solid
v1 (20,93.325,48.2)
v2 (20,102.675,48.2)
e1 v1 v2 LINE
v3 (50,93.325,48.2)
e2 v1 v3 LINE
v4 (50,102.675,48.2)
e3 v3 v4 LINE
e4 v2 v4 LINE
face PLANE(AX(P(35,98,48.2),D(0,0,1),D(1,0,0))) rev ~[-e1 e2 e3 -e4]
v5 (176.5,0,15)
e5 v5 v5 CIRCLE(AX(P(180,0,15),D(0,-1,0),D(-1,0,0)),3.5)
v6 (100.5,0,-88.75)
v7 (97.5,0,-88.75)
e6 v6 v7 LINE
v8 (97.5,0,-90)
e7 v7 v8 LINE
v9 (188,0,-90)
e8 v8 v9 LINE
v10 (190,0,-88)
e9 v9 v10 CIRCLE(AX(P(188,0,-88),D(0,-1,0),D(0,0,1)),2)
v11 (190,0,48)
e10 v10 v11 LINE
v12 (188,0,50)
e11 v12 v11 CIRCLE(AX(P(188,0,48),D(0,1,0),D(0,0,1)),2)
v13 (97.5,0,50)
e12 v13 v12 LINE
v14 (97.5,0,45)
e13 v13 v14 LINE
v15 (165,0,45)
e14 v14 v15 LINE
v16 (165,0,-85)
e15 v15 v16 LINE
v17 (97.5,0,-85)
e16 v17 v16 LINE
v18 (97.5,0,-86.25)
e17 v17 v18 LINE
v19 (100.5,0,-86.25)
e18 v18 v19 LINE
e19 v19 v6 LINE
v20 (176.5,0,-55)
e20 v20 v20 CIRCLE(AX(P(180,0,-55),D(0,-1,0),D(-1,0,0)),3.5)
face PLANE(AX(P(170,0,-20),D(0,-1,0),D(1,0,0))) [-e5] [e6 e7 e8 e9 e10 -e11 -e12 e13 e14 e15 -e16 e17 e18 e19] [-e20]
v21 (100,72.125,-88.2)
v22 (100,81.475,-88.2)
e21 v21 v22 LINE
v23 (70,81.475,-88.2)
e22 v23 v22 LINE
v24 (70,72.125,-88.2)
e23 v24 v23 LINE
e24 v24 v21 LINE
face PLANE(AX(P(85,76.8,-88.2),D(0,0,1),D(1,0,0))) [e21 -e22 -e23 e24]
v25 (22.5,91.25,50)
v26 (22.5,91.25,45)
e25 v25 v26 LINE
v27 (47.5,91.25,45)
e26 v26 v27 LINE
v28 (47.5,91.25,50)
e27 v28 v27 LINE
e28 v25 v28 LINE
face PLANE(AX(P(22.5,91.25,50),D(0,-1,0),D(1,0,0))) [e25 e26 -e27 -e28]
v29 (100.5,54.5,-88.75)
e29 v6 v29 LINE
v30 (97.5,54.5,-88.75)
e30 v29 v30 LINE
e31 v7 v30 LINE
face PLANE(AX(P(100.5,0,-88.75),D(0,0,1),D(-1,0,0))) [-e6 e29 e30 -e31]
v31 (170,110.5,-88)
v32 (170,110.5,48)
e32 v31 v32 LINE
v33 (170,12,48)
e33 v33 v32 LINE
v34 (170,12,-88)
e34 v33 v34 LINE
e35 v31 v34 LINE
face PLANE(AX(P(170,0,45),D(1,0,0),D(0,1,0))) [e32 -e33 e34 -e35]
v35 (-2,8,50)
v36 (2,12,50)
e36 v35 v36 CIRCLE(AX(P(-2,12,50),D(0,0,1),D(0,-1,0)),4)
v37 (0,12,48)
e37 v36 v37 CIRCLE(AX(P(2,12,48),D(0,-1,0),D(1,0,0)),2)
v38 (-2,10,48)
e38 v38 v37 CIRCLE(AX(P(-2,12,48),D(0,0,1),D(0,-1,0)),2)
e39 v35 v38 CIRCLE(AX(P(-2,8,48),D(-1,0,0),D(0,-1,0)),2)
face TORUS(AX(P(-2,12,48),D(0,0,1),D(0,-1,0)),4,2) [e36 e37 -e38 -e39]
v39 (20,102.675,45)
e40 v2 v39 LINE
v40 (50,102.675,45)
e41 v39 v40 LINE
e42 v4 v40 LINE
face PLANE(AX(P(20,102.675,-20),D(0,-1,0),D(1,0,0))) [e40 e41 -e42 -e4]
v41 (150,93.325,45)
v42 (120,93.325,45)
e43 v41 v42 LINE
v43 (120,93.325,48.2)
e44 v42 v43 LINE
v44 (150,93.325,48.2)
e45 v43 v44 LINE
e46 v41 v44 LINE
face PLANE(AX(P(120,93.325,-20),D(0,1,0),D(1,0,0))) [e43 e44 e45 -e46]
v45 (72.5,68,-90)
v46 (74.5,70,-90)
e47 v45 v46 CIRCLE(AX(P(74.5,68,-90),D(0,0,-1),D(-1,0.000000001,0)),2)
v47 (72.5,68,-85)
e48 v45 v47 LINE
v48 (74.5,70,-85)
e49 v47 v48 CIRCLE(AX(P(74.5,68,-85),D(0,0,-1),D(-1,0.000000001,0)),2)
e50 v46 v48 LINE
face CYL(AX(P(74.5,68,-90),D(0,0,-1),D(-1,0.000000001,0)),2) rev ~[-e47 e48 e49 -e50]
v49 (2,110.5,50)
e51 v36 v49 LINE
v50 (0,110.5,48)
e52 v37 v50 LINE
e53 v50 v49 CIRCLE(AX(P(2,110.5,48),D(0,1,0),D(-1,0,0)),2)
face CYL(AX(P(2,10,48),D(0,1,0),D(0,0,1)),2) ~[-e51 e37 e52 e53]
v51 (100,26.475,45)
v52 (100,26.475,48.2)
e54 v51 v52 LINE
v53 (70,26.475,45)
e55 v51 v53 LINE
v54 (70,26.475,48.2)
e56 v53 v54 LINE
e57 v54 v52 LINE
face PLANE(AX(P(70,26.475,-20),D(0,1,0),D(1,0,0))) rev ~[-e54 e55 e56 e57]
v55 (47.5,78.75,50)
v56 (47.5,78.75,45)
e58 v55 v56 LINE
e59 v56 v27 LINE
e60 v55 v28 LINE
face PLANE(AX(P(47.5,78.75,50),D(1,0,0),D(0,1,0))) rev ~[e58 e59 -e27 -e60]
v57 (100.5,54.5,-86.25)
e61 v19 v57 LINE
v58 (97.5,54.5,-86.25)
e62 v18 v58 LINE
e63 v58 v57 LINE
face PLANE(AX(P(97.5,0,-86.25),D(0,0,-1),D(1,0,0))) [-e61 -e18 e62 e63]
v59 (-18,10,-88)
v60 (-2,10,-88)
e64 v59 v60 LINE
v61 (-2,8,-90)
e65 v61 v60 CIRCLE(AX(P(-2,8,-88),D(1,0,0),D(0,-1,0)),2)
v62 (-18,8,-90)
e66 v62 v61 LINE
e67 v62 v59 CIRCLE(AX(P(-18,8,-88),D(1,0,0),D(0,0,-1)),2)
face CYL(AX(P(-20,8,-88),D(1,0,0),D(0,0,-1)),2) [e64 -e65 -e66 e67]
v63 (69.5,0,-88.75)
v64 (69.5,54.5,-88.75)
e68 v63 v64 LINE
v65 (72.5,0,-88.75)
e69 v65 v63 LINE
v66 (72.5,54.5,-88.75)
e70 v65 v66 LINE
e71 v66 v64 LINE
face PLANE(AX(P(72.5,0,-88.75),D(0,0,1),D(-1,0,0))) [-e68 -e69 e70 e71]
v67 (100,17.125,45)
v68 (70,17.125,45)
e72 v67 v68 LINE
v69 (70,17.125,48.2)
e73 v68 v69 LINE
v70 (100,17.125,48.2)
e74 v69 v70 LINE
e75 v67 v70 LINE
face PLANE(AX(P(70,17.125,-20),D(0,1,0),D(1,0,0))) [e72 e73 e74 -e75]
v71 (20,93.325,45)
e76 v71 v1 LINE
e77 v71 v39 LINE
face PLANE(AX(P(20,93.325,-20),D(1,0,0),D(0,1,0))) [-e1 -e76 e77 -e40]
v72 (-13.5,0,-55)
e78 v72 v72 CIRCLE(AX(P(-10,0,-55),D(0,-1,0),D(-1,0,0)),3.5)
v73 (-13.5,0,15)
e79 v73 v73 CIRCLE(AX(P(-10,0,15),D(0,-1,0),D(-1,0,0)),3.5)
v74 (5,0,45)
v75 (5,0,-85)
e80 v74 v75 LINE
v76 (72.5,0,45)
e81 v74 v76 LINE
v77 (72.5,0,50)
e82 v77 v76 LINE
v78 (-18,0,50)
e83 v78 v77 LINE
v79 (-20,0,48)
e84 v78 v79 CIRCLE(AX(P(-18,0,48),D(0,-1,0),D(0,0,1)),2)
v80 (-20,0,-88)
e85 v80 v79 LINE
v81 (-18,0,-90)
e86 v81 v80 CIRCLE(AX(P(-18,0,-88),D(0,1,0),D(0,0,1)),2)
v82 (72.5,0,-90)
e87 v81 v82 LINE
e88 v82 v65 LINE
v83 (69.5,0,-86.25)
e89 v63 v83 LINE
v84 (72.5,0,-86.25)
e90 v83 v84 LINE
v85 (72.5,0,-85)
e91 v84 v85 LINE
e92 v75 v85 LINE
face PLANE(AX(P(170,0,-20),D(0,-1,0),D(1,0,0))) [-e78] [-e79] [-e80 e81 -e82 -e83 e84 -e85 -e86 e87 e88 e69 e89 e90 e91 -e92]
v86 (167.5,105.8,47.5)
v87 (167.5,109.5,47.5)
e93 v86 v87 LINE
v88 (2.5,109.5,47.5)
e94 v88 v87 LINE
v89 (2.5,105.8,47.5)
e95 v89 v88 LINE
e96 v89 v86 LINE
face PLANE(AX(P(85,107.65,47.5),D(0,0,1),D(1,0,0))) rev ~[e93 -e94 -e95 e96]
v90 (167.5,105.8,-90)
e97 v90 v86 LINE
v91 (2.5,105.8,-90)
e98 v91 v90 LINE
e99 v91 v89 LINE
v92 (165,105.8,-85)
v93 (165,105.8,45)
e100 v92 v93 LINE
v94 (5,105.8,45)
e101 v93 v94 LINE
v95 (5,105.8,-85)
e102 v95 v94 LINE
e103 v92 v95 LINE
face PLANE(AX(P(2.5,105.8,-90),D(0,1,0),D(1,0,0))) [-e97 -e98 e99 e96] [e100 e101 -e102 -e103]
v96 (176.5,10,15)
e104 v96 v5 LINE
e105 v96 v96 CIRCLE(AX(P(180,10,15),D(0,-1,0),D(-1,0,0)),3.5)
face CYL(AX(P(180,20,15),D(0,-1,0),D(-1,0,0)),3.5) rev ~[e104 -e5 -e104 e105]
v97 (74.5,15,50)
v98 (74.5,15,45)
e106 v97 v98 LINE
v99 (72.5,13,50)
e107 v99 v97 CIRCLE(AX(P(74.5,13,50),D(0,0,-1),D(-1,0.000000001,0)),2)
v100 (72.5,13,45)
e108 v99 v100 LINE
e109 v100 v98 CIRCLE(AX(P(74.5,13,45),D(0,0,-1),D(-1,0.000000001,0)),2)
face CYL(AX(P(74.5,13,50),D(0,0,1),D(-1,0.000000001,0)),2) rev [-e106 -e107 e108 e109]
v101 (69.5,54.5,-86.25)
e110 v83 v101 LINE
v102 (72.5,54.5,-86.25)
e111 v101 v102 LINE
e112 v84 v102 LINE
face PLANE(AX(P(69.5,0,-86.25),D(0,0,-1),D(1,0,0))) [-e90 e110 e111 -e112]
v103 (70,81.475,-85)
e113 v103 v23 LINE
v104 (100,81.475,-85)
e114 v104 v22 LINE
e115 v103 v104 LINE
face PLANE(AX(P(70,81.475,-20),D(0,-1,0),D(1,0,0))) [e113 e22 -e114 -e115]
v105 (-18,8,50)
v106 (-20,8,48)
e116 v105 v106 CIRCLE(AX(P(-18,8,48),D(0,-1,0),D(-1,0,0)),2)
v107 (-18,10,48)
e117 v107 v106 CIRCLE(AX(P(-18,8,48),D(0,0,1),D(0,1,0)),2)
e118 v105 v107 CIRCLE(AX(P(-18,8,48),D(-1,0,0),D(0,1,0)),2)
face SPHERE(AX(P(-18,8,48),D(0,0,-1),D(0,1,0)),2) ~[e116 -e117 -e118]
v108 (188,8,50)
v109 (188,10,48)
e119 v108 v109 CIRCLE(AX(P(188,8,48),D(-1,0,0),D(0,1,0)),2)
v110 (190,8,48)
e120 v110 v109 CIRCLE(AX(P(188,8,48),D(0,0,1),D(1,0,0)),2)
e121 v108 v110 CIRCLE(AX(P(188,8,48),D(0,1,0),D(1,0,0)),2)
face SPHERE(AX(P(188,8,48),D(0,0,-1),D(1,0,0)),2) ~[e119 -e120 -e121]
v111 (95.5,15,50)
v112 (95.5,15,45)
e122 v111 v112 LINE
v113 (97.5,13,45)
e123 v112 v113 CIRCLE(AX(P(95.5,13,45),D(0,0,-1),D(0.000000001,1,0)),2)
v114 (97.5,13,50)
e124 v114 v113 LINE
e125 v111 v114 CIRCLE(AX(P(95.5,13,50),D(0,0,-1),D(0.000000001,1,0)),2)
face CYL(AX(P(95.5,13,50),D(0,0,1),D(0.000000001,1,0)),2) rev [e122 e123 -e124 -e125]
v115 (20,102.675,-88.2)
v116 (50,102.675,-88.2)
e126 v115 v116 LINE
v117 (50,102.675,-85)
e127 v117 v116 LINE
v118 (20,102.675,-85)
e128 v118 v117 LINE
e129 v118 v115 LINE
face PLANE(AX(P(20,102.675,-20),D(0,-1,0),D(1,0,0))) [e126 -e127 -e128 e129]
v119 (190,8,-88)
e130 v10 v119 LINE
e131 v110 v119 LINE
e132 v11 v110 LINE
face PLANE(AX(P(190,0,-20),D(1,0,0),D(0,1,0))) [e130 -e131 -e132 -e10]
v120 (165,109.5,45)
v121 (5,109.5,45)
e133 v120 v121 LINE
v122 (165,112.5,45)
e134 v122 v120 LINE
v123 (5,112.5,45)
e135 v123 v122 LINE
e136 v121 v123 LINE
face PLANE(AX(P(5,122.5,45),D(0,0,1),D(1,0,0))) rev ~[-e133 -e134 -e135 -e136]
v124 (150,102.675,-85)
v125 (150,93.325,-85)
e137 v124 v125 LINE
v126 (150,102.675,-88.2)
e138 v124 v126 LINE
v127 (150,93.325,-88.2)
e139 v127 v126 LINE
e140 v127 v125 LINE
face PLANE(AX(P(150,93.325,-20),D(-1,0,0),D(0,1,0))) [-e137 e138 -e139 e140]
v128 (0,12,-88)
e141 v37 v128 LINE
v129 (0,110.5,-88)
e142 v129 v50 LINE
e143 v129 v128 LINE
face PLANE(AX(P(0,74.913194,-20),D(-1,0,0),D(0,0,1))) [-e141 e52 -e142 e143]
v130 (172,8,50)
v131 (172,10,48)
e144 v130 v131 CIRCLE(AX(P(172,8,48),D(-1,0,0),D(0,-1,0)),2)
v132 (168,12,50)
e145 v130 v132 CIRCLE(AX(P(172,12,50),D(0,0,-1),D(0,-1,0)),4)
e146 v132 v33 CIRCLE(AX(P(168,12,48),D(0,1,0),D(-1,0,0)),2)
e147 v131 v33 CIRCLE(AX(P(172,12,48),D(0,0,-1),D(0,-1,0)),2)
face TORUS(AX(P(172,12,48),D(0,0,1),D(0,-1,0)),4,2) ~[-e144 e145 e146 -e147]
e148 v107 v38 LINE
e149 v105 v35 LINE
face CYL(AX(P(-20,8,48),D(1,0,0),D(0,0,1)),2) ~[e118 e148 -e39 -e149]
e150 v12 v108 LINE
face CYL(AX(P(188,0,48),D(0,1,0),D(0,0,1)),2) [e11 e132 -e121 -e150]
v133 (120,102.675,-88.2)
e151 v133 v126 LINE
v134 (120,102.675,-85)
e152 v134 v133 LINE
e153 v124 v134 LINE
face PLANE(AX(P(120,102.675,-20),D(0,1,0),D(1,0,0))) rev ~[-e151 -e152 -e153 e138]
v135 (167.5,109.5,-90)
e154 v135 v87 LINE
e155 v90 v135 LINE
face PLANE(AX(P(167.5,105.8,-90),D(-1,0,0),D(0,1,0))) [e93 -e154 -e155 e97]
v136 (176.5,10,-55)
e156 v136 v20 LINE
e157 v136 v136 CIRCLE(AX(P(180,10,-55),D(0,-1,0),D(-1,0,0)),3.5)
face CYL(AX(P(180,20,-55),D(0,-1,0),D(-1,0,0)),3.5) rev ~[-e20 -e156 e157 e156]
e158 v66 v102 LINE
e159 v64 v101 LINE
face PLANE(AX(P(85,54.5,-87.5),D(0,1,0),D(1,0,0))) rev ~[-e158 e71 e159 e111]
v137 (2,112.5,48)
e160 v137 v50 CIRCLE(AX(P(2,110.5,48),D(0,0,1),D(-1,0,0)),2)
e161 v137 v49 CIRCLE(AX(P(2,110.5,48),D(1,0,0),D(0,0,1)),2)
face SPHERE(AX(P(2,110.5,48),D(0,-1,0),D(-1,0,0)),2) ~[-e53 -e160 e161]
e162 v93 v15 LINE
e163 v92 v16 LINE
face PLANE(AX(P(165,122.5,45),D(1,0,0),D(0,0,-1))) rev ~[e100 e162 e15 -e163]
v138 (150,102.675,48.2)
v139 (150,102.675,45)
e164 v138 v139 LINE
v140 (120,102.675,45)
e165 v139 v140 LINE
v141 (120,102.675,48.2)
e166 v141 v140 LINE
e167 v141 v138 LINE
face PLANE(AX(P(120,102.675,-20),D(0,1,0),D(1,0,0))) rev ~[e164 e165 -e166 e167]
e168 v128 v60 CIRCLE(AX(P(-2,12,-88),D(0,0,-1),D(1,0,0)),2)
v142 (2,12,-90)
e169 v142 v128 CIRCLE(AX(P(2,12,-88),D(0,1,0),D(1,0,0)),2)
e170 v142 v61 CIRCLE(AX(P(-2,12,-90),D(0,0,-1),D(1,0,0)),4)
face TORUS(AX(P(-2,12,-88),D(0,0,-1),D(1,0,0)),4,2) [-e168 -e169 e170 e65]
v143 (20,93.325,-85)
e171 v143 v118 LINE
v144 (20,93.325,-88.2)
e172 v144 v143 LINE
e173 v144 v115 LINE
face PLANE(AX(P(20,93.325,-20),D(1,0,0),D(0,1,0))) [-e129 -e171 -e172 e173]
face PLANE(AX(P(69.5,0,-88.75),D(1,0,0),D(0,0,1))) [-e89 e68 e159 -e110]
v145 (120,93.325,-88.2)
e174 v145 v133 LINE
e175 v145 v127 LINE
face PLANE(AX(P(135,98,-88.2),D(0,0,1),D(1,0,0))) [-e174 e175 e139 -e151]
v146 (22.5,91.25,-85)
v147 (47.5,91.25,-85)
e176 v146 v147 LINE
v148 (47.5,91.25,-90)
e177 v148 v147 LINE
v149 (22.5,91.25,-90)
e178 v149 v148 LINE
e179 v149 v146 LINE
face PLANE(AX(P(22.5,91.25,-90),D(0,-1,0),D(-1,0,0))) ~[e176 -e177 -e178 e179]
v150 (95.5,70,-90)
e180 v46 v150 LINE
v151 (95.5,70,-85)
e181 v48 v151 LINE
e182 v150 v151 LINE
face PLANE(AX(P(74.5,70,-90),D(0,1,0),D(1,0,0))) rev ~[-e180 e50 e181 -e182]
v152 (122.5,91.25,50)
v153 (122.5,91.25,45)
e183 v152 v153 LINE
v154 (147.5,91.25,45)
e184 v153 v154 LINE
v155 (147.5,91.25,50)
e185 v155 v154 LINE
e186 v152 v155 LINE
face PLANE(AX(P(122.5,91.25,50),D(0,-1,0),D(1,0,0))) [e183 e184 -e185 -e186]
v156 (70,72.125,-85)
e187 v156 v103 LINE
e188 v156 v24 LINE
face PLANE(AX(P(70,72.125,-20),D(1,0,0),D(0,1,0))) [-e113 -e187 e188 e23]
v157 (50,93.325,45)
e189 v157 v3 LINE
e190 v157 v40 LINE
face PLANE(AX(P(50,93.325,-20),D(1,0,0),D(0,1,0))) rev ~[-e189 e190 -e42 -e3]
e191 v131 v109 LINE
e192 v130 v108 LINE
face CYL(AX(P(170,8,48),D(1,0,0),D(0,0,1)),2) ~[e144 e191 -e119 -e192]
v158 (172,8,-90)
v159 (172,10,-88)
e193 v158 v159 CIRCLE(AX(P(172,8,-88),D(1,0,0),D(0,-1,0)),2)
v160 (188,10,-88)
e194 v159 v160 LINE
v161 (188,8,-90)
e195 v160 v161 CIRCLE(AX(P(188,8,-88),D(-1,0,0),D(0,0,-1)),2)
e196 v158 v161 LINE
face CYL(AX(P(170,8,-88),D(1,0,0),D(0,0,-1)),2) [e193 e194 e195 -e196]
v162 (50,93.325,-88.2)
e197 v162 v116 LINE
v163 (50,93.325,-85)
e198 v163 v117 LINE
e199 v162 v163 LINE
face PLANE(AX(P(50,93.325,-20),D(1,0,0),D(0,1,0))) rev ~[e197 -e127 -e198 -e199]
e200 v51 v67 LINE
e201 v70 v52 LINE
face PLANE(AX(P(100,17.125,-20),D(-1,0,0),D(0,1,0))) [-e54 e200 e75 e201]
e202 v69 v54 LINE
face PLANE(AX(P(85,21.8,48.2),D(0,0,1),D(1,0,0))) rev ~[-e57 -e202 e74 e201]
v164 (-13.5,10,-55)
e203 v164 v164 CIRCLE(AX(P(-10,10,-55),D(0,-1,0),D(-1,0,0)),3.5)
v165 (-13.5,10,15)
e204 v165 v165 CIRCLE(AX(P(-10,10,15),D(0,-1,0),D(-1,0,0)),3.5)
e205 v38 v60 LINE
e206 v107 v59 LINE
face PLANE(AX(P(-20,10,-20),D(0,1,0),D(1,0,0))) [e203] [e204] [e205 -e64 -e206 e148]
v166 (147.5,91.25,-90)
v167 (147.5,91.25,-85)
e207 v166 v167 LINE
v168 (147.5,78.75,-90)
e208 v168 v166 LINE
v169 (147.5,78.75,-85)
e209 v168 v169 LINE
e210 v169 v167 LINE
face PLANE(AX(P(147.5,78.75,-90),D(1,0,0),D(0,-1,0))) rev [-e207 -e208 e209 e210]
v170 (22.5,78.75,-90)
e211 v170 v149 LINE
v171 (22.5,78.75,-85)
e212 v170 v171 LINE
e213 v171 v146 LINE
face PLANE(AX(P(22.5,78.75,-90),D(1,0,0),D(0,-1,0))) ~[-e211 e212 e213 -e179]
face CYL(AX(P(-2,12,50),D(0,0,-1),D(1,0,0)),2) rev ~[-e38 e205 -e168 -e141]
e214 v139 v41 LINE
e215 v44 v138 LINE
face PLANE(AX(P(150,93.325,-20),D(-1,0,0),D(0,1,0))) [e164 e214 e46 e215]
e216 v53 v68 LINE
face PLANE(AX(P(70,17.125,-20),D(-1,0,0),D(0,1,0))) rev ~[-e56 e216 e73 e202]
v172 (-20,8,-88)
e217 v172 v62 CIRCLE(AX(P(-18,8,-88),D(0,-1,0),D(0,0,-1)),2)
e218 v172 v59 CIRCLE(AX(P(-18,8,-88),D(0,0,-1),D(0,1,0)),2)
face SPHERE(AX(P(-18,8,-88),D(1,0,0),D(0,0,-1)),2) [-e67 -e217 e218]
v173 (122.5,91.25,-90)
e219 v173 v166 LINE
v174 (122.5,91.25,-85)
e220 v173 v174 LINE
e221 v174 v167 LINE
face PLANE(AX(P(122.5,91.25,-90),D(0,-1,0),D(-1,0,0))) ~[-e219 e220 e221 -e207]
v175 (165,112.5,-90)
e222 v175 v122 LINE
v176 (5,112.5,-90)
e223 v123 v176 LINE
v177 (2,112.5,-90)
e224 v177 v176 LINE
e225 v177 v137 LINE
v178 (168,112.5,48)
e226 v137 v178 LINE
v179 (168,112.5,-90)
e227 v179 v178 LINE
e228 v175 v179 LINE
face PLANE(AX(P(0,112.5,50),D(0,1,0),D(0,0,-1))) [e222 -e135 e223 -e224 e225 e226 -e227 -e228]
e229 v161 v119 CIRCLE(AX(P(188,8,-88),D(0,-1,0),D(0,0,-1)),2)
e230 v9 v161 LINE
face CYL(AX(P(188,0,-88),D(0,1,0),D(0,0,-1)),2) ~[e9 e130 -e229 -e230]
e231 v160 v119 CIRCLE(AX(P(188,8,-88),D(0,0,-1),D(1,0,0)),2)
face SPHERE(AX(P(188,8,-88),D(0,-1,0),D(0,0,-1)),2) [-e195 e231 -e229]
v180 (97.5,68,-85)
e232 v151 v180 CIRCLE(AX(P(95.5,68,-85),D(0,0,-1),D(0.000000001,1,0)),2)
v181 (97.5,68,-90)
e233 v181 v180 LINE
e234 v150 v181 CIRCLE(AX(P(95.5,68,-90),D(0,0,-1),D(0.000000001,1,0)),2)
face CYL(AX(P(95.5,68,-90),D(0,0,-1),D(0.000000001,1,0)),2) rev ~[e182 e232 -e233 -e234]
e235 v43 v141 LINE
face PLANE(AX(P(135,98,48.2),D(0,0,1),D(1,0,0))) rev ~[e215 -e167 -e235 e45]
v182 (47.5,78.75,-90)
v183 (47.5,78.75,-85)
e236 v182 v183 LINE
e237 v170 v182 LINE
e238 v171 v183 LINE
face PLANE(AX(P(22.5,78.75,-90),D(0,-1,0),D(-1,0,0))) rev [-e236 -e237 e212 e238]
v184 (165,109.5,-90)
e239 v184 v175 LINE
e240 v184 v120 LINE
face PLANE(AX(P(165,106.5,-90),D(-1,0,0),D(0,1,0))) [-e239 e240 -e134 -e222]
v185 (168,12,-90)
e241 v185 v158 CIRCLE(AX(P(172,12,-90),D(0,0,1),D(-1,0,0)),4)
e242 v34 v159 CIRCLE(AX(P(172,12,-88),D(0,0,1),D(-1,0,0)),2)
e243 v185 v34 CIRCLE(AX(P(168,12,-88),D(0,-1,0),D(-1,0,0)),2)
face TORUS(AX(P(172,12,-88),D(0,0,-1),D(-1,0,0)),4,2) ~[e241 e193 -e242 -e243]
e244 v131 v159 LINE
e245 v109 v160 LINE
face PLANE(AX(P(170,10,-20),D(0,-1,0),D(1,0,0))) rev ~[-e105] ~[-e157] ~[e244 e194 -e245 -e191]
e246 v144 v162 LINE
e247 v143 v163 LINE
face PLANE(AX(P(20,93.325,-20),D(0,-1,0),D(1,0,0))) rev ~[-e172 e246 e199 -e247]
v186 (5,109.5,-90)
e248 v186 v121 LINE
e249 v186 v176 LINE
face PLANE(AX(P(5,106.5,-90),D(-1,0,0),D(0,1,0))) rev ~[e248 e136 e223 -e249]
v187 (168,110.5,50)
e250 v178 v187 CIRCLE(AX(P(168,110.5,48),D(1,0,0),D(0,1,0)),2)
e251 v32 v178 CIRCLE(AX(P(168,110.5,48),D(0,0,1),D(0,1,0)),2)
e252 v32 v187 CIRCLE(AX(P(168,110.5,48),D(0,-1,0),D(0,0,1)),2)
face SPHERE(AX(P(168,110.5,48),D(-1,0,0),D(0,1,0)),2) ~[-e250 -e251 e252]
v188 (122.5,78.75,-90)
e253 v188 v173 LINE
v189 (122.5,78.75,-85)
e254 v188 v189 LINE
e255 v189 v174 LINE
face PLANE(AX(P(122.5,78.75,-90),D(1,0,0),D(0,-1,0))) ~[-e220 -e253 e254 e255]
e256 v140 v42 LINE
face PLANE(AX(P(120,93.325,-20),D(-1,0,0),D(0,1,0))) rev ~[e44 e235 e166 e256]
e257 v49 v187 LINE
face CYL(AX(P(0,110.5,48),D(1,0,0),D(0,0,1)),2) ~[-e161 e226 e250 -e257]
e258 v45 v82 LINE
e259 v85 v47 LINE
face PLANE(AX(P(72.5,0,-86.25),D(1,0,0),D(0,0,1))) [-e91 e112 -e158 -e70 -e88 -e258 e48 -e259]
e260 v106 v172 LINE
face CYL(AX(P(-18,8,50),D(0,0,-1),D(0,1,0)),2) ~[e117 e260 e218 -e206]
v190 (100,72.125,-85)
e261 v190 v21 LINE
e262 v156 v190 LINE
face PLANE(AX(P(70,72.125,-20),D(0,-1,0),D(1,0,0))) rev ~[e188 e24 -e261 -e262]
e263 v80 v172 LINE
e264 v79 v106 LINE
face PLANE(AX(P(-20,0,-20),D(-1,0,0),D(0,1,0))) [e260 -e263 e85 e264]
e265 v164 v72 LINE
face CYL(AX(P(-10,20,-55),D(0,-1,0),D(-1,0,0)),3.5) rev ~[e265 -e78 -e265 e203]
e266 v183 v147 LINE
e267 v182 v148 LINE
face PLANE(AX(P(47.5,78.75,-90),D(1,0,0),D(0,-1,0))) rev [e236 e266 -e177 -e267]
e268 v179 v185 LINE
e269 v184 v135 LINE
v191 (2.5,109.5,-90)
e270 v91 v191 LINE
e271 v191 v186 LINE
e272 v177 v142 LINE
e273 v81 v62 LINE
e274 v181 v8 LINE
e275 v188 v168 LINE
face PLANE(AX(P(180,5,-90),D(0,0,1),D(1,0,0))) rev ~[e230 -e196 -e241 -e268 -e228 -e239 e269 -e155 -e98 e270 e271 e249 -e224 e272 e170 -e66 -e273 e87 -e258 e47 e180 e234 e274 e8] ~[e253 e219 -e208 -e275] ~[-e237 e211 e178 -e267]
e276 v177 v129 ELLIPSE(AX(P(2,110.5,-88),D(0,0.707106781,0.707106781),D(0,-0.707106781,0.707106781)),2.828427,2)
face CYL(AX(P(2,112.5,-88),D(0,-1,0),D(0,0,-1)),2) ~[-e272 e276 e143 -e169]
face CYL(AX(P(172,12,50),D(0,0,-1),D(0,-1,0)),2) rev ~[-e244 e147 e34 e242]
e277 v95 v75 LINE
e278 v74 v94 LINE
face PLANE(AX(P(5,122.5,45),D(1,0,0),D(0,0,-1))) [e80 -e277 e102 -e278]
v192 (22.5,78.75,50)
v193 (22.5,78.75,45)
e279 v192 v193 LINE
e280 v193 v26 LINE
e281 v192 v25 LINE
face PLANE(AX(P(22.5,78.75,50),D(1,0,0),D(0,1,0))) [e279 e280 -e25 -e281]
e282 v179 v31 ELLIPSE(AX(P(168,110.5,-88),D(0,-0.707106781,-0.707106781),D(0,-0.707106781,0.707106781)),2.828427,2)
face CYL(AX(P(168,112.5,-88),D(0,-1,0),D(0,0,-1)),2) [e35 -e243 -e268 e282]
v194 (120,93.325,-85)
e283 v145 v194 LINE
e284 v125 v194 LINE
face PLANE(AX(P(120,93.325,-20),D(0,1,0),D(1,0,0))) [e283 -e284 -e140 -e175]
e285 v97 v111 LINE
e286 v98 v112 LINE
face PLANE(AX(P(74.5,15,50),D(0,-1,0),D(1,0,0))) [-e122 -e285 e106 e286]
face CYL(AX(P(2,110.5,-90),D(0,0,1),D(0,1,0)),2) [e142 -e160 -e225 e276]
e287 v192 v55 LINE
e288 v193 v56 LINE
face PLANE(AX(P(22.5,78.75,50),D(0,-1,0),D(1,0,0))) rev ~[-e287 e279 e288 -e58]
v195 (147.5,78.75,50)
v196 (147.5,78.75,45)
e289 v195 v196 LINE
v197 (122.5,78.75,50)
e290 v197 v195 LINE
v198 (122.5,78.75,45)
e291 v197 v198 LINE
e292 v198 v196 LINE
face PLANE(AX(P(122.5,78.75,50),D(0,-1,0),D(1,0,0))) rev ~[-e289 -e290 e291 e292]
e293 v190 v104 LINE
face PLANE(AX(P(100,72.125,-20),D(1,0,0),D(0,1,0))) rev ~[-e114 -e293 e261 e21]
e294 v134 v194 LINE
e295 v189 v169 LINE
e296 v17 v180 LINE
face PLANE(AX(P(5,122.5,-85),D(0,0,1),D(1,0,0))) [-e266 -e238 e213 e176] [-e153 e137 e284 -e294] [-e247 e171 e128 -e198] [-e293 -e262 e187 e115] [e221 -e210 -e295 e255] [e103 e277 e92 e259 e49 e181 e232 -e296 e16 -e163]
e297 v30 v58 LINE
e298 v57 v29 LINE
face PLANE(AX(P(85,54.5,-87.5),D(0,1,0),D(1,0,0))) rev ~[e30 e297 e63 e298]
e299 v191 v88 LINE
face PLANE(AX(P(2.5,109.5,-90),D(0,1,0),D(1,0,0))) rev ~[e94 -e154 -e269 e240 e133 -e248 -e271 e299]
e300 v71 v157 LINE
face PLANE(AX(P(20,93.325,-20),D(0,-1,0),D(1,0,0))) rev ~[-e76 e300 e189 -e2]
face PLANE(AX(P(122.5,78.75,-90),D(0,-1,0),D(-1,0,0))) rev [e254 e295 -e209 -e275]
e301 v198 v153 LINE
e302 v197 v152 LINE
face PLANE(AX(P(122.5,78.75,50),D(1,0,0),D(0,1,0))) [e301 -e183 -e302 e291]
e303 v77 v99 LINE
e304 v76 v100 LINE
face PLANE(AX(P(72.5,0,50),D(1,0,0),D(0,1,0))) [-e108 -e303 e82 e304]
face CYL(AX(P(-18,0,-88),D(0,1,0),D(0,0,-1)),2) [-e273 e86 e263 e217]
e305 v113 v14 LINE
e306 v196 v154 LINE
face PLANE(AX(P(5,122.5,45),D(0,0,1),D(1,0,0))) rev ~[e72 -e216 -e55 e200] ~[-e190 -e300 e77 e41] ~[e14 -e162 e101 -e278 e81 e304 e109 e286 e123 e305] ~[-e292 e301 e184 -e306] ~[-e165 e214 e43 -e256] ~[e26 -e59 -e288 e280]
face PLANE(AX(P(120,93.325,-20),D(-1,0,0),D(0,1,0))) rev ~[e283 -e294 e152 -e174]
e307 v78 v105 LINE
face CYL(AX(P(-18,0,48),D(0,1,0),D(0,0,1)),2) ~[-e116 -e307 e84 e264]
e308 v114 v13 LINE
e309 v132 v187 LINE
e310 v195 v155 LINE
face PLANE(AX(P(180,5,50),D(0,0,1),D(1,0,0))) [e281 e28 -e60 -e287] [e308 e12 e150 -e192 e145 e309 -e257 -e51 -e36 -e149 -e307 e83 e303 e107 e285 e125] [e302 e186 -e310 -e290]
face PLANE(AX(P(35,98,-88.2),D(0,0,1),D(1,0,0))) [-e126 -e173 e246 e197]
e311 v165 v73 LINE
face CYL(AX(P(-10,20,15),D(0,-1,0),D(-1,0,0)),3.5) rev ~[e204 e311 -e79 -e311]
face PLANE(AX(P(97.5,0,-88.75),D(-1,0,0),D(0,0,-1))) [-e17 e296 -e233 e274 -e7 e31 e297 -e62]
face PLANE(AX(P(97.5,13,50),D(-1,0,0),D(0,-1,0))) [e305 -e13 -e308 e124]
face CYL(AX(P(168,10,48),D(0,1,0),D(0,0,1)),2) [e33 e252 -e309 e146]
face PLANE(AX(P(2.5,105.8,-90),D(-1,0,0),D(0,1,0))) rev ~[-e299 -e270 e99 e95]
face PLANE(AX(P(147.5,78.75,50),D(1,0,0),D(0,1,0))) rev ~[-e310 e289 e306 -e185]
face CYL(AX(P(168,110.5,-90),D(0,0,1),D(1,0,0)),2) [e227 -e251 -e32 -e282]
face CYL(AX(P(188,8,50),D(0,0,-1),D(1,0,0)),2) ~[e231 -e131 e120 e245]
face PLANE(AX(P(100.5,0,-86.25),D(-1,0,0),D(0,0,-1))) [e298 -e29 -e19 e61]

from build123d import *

# Parameters (mm, degrees)
BOSS_EXTRUDE1_DEPTH      = 170
SKETCH7_W                = 5
SKETCH7_H                = 112.5
BOSS_EXTRUDE2_DEPTH      = 130
SKETCH9_W                = 160
SKETCH9_H                = 130
CUT_EXTRUDE2_DEPTH       = 60
SKETCH10_W               = 165
SKETCH10_H               = 3.7
CUT_EXTRUDE3_DEPTH       = 137.5
SKETCH13_W               = 160
SKETCH13_H               = 6
CUT_EXTRUDE4_DEPTH       = 5
SKETCH15_W               = 20
SKETCH15_H               = 10
BOSS_EXTRUDE3_DEPTH      = 70
SKETCH16_W               = 25
SKETCH16_H               = 12.5
CUT_EXTRUDE5_DEPTH       = 5
M6_CLEARANCE_HOLE1_D     = 7
M6_CLEARANCE_HOLE1_DEPTH = 10
SKETCH26_W               = 30
SKETCH26_H               = 9.35
CUT_EXTRUDE6_DEPTH       = 68.2
SKETCH27_W               = 30
SKETCH27_H               = 9.35
CUT_EXTRUDE8_DEPTH       = 68.2
CUT_EXTRUDE10_DEPTH      = 5
CUT_EXTRUDE11_DEPTH      = 5
SKETCH30_W               = 30
SKETCH30_H               = 9.35
CUT_EXTRUDE12_DEPTH      = 68.2
CUT_EXTRUDE14_DEPTH      = 54.5
FILLET1_R                = 2


with BuildPart() as part:
    # Sketch1 → Boss-Extrude1 (new body)
    with BuildSketch(Plane(origin=(0, 0, 0), x_dir=(0, 0, -1), z_dir=(1, 0, 0))):
        Polygon((90, 112.5), (90, 0), (85, 0), (85, 107.5), (-45, 107.5), (-45, 0), (-50, 0), (-50, 112.5), align=None)
    extrude(amount=BOSS_EXTRUDE1_DEPTH)

    # Sketch7 → Boss-Extrude2 (add)
    with BuildSketch(Plane(origin=(0, 0, 45), x_dir=(-1, 0, 0), z_dir=(0, 0, -1))):
        with Locations((-167.5, 56.25)):
            Rectangle(SKETCH7_W, SKETCH7_H)
        with Locations((-2.5, 56.25)):
            Rectangle(SKETCH7_W, SKETCH7_H)
    extrude(amount=BOSS_EXTRUDE2_DEPTH)

    # Sketch9 → Cut-Extrude2 (cut)
    with BuildSketch(Plane(origin=(0, 122.5, 0), x_dir=(1, 0, 0), z_dir=(0, 1, 0))):
        with Locations((85, 20)):
            Rectangle(SKETCH9_W, SKETCH9_H)
    extrude(amount=-CUT_EXTRUDE2_DEPTH, mode=Mode.SUBTRACT)

    # Sketch10 → Cut-Extrude3 (cut)
    with BuildSketch(Plane(origin=(80, 0, -90), x_dir=(1, 0, 0), z_dir=(0, 0, 1))):
        with Locations((5, 107.65)):
            Rectangle(SKETCH10_W, SKETCH10_H)
    extrude(amount=CUT_EXTRUDE3_DEPTH, mode=Mode.SUBTRACT)

    # Sketch13 → Cut-Extrude4 (cut)
    with BuildSketch(Plane(origin=(80, 0, -90), x_dir=(1, 0, 0), z_dir=(0, 0, 1))):
        with Locations((5, 109.5)):
            Rectangle(SKETCH13_W, SKETCH13_H)
    extrude(amount=CUT_EXTRUDE4_DEPTH, mode=Mode.SUBTRACT)

    # Sketch15 → Boss-Extrude3 (add, symmetric)
    with BuildSketch(Plane.XY.offset(-20)):
        with Locations((-10, 5)):
            Rectangle(SKETCH15_W, SKETCH15_H)
        with Locations((180, 5)):
            Rectangle(SKETCH15_W, SKETCH15_H)
    extrude(amount=BOSS_EXTRUDE3_DEPTH, both=True)

    # Sketch16 → Cut-Extrude5 (cut)
    with BuildSketch(Plane.XY.offset(50)):
        with Locations((35, 85)):
            Rectangle(SKETCH16_W, SKETCH16_H)
        with Locations((135, 85)):
            Rectangle(SKETCH16_W, SKETCH16_H)
    cut_extrude5 = extrude(amount=-CUT_EXTRUDE5_DEPTH, mode=Mode.SUBTRACT)

    # M6 Clearance Hole1
    with Locations(Plane(origin=(0, 10, 0), x_dir=(1, 0, 0), z_dir=(0, 1, 0))):
        with Locations((-10, -15), (-10, 55), (180, 55), (180, -15)):
            Hole(M6_CLEARANCE_HOLE1_D / 2, depth=M6_CLEARANCE_HOLE1_DEPTH)

    # Mirror2: Cut-Extrude5 across plane
    add(cut_extrude5.mirror(Plane.XY.offset(-20)), mode=Mode.SUBTRACT)

    # Sketch26 → Cut-Extrude6 (cut, symmetric)
    with BuildSketch(Plane.XY.offset(-20)):
        with Locations((135, 98)):
            Rectangle(SKETCH26_W, SKETCH26_H)
        with Locations((35, 98)):
            Rectangle(SKETCH26_W, SKETCH26_H)
    extrude(amount=CUT_EXTRUDE6_DEPTH, both=True, mode=Mode.SUBTRACT)

    # Sketch27 → Cut-Extrude8 (cut)
    with BuildSketch(Plane.XY.offset(-20)):
        with Locations((85, 21.8)):
            Rectangle(SKETCH27_W, SKETCH27_H)
    extrude(amount=CUT_EXTRUDE8_DEPTH, mode=Mode.SUBTRACT)

    # Sketch28 → Cut-Extrude10 (cut)
    with BuildSketch(Plane(origin=(0, 0, 50), x_dir=(-1, 0, 0), z_dir=(0, 0, -1))):
        with BuildLine():
            Line((-72.5, 0), (-72.5, 13))
            ThreePointArc((-72.5, 13), (-73.085786438, 14.414213562), (-74.5, 15))
            Line((-74.5, 15), (-95.5, 15))
            ThreePointArc((-95.5, 15), (-96.914213562, 14.414213562), (-97.5, 13))
            Line((-97.5, 13), (-97.5, 0))
            Line((-97.5, 0), (-72.5, 0))
        make_face()
    extrude(amount=CUT_EXTRUDE10_DEPTH, mode=Mode.SUBTRACT)

    # Sketch29 → Cut-Extrude11 (cut)
    with BuildSketch(Plane.XY.offset(-90)):
        with BuildLine():
            Line((95.5, 52.5), (74.5, 52.5))
            ThreePointArc((74.5, 52.5), (73.085786438, 53.085786438), (72.5, 54.5))
            Line((72.5, 54.5), (72.5, 68))
            ThreePointArc((72.5, 68), (73.085786438, 69.414213562), (74.5, 70))
            Line((74.5, 70), (95.5, 70))
            ThreePointArc((95.5, 70), (96.914213562, 69.414213562), (97.5, 68))
            Line((97.5, 68), (97.5, 54.5))
            ThreePointArc((97.5, 54.5), (96.914213562, 53.085786438), (95.5, 52.5))
        make_face()
    extrude(amount=CUT_EXTRUDE11_DEPTH, mode=Mode.SUBTRACT)

    # Sketch30 → Cut-Extrude12 (cut)
    with BuildSketch(Plane.XY.offset(-20)):
        with Locations((85, 76.8)):
            Rectangle(SKETCH30_W, SKETCH30_H)
    extrude(amount=-CUT_EXTRUDE12_DEPTH, mode=Mode.SUBTRACT)

    # Sketch31 → Cut-Extrude14 (cut)
    with BuildSketch(Plane(origin=(0, 0, 0), x_dir=(1, 0, 0), z_dir=(0, 1, 0))):
        Polygon((97.5, 86.25), (100.5, 86.25), (100.5, 88.75), (97.5, 88.75), (97.5, 90), (72.5, 90), (72.5, 88.75), (69.5, 88.75), (69.5, 86.25), (72.5, 86.25), (72.5, 85), (97.5, 85), align=None)
    extrude(amount=CUT_EXTRUDE14_DEPTH, mode=Mode.SUBTRACT)

    # Fillet1
    fillet1_edges = [part.edges().sort_by_distance(p)[0] for p in [
        (0, 61.25, 50),
        (0, 112.5, -20),
        (0, 61.25, -90),
        (-10, 10, -90),
        (0, 10, -20),
        (-20, 5, -90),
        (-20, 10, -20),
        (-10, 10, 50),
        (-20, 5, 50),
        (190, 5, -90),
        (180, 10, -90),
        (190, 10, -20),
        (170, 10, -20),
        (190, 5, 50),
        (180, 10, 50),
        (85, 112.5, 50),
        (170, 61.25, -90),
        (170, 112.5, -20),
        (170, 61.25, 50),
    ]]
    fillet(fillet1_edges, radius=FILLET1_R)


solid = part.part
